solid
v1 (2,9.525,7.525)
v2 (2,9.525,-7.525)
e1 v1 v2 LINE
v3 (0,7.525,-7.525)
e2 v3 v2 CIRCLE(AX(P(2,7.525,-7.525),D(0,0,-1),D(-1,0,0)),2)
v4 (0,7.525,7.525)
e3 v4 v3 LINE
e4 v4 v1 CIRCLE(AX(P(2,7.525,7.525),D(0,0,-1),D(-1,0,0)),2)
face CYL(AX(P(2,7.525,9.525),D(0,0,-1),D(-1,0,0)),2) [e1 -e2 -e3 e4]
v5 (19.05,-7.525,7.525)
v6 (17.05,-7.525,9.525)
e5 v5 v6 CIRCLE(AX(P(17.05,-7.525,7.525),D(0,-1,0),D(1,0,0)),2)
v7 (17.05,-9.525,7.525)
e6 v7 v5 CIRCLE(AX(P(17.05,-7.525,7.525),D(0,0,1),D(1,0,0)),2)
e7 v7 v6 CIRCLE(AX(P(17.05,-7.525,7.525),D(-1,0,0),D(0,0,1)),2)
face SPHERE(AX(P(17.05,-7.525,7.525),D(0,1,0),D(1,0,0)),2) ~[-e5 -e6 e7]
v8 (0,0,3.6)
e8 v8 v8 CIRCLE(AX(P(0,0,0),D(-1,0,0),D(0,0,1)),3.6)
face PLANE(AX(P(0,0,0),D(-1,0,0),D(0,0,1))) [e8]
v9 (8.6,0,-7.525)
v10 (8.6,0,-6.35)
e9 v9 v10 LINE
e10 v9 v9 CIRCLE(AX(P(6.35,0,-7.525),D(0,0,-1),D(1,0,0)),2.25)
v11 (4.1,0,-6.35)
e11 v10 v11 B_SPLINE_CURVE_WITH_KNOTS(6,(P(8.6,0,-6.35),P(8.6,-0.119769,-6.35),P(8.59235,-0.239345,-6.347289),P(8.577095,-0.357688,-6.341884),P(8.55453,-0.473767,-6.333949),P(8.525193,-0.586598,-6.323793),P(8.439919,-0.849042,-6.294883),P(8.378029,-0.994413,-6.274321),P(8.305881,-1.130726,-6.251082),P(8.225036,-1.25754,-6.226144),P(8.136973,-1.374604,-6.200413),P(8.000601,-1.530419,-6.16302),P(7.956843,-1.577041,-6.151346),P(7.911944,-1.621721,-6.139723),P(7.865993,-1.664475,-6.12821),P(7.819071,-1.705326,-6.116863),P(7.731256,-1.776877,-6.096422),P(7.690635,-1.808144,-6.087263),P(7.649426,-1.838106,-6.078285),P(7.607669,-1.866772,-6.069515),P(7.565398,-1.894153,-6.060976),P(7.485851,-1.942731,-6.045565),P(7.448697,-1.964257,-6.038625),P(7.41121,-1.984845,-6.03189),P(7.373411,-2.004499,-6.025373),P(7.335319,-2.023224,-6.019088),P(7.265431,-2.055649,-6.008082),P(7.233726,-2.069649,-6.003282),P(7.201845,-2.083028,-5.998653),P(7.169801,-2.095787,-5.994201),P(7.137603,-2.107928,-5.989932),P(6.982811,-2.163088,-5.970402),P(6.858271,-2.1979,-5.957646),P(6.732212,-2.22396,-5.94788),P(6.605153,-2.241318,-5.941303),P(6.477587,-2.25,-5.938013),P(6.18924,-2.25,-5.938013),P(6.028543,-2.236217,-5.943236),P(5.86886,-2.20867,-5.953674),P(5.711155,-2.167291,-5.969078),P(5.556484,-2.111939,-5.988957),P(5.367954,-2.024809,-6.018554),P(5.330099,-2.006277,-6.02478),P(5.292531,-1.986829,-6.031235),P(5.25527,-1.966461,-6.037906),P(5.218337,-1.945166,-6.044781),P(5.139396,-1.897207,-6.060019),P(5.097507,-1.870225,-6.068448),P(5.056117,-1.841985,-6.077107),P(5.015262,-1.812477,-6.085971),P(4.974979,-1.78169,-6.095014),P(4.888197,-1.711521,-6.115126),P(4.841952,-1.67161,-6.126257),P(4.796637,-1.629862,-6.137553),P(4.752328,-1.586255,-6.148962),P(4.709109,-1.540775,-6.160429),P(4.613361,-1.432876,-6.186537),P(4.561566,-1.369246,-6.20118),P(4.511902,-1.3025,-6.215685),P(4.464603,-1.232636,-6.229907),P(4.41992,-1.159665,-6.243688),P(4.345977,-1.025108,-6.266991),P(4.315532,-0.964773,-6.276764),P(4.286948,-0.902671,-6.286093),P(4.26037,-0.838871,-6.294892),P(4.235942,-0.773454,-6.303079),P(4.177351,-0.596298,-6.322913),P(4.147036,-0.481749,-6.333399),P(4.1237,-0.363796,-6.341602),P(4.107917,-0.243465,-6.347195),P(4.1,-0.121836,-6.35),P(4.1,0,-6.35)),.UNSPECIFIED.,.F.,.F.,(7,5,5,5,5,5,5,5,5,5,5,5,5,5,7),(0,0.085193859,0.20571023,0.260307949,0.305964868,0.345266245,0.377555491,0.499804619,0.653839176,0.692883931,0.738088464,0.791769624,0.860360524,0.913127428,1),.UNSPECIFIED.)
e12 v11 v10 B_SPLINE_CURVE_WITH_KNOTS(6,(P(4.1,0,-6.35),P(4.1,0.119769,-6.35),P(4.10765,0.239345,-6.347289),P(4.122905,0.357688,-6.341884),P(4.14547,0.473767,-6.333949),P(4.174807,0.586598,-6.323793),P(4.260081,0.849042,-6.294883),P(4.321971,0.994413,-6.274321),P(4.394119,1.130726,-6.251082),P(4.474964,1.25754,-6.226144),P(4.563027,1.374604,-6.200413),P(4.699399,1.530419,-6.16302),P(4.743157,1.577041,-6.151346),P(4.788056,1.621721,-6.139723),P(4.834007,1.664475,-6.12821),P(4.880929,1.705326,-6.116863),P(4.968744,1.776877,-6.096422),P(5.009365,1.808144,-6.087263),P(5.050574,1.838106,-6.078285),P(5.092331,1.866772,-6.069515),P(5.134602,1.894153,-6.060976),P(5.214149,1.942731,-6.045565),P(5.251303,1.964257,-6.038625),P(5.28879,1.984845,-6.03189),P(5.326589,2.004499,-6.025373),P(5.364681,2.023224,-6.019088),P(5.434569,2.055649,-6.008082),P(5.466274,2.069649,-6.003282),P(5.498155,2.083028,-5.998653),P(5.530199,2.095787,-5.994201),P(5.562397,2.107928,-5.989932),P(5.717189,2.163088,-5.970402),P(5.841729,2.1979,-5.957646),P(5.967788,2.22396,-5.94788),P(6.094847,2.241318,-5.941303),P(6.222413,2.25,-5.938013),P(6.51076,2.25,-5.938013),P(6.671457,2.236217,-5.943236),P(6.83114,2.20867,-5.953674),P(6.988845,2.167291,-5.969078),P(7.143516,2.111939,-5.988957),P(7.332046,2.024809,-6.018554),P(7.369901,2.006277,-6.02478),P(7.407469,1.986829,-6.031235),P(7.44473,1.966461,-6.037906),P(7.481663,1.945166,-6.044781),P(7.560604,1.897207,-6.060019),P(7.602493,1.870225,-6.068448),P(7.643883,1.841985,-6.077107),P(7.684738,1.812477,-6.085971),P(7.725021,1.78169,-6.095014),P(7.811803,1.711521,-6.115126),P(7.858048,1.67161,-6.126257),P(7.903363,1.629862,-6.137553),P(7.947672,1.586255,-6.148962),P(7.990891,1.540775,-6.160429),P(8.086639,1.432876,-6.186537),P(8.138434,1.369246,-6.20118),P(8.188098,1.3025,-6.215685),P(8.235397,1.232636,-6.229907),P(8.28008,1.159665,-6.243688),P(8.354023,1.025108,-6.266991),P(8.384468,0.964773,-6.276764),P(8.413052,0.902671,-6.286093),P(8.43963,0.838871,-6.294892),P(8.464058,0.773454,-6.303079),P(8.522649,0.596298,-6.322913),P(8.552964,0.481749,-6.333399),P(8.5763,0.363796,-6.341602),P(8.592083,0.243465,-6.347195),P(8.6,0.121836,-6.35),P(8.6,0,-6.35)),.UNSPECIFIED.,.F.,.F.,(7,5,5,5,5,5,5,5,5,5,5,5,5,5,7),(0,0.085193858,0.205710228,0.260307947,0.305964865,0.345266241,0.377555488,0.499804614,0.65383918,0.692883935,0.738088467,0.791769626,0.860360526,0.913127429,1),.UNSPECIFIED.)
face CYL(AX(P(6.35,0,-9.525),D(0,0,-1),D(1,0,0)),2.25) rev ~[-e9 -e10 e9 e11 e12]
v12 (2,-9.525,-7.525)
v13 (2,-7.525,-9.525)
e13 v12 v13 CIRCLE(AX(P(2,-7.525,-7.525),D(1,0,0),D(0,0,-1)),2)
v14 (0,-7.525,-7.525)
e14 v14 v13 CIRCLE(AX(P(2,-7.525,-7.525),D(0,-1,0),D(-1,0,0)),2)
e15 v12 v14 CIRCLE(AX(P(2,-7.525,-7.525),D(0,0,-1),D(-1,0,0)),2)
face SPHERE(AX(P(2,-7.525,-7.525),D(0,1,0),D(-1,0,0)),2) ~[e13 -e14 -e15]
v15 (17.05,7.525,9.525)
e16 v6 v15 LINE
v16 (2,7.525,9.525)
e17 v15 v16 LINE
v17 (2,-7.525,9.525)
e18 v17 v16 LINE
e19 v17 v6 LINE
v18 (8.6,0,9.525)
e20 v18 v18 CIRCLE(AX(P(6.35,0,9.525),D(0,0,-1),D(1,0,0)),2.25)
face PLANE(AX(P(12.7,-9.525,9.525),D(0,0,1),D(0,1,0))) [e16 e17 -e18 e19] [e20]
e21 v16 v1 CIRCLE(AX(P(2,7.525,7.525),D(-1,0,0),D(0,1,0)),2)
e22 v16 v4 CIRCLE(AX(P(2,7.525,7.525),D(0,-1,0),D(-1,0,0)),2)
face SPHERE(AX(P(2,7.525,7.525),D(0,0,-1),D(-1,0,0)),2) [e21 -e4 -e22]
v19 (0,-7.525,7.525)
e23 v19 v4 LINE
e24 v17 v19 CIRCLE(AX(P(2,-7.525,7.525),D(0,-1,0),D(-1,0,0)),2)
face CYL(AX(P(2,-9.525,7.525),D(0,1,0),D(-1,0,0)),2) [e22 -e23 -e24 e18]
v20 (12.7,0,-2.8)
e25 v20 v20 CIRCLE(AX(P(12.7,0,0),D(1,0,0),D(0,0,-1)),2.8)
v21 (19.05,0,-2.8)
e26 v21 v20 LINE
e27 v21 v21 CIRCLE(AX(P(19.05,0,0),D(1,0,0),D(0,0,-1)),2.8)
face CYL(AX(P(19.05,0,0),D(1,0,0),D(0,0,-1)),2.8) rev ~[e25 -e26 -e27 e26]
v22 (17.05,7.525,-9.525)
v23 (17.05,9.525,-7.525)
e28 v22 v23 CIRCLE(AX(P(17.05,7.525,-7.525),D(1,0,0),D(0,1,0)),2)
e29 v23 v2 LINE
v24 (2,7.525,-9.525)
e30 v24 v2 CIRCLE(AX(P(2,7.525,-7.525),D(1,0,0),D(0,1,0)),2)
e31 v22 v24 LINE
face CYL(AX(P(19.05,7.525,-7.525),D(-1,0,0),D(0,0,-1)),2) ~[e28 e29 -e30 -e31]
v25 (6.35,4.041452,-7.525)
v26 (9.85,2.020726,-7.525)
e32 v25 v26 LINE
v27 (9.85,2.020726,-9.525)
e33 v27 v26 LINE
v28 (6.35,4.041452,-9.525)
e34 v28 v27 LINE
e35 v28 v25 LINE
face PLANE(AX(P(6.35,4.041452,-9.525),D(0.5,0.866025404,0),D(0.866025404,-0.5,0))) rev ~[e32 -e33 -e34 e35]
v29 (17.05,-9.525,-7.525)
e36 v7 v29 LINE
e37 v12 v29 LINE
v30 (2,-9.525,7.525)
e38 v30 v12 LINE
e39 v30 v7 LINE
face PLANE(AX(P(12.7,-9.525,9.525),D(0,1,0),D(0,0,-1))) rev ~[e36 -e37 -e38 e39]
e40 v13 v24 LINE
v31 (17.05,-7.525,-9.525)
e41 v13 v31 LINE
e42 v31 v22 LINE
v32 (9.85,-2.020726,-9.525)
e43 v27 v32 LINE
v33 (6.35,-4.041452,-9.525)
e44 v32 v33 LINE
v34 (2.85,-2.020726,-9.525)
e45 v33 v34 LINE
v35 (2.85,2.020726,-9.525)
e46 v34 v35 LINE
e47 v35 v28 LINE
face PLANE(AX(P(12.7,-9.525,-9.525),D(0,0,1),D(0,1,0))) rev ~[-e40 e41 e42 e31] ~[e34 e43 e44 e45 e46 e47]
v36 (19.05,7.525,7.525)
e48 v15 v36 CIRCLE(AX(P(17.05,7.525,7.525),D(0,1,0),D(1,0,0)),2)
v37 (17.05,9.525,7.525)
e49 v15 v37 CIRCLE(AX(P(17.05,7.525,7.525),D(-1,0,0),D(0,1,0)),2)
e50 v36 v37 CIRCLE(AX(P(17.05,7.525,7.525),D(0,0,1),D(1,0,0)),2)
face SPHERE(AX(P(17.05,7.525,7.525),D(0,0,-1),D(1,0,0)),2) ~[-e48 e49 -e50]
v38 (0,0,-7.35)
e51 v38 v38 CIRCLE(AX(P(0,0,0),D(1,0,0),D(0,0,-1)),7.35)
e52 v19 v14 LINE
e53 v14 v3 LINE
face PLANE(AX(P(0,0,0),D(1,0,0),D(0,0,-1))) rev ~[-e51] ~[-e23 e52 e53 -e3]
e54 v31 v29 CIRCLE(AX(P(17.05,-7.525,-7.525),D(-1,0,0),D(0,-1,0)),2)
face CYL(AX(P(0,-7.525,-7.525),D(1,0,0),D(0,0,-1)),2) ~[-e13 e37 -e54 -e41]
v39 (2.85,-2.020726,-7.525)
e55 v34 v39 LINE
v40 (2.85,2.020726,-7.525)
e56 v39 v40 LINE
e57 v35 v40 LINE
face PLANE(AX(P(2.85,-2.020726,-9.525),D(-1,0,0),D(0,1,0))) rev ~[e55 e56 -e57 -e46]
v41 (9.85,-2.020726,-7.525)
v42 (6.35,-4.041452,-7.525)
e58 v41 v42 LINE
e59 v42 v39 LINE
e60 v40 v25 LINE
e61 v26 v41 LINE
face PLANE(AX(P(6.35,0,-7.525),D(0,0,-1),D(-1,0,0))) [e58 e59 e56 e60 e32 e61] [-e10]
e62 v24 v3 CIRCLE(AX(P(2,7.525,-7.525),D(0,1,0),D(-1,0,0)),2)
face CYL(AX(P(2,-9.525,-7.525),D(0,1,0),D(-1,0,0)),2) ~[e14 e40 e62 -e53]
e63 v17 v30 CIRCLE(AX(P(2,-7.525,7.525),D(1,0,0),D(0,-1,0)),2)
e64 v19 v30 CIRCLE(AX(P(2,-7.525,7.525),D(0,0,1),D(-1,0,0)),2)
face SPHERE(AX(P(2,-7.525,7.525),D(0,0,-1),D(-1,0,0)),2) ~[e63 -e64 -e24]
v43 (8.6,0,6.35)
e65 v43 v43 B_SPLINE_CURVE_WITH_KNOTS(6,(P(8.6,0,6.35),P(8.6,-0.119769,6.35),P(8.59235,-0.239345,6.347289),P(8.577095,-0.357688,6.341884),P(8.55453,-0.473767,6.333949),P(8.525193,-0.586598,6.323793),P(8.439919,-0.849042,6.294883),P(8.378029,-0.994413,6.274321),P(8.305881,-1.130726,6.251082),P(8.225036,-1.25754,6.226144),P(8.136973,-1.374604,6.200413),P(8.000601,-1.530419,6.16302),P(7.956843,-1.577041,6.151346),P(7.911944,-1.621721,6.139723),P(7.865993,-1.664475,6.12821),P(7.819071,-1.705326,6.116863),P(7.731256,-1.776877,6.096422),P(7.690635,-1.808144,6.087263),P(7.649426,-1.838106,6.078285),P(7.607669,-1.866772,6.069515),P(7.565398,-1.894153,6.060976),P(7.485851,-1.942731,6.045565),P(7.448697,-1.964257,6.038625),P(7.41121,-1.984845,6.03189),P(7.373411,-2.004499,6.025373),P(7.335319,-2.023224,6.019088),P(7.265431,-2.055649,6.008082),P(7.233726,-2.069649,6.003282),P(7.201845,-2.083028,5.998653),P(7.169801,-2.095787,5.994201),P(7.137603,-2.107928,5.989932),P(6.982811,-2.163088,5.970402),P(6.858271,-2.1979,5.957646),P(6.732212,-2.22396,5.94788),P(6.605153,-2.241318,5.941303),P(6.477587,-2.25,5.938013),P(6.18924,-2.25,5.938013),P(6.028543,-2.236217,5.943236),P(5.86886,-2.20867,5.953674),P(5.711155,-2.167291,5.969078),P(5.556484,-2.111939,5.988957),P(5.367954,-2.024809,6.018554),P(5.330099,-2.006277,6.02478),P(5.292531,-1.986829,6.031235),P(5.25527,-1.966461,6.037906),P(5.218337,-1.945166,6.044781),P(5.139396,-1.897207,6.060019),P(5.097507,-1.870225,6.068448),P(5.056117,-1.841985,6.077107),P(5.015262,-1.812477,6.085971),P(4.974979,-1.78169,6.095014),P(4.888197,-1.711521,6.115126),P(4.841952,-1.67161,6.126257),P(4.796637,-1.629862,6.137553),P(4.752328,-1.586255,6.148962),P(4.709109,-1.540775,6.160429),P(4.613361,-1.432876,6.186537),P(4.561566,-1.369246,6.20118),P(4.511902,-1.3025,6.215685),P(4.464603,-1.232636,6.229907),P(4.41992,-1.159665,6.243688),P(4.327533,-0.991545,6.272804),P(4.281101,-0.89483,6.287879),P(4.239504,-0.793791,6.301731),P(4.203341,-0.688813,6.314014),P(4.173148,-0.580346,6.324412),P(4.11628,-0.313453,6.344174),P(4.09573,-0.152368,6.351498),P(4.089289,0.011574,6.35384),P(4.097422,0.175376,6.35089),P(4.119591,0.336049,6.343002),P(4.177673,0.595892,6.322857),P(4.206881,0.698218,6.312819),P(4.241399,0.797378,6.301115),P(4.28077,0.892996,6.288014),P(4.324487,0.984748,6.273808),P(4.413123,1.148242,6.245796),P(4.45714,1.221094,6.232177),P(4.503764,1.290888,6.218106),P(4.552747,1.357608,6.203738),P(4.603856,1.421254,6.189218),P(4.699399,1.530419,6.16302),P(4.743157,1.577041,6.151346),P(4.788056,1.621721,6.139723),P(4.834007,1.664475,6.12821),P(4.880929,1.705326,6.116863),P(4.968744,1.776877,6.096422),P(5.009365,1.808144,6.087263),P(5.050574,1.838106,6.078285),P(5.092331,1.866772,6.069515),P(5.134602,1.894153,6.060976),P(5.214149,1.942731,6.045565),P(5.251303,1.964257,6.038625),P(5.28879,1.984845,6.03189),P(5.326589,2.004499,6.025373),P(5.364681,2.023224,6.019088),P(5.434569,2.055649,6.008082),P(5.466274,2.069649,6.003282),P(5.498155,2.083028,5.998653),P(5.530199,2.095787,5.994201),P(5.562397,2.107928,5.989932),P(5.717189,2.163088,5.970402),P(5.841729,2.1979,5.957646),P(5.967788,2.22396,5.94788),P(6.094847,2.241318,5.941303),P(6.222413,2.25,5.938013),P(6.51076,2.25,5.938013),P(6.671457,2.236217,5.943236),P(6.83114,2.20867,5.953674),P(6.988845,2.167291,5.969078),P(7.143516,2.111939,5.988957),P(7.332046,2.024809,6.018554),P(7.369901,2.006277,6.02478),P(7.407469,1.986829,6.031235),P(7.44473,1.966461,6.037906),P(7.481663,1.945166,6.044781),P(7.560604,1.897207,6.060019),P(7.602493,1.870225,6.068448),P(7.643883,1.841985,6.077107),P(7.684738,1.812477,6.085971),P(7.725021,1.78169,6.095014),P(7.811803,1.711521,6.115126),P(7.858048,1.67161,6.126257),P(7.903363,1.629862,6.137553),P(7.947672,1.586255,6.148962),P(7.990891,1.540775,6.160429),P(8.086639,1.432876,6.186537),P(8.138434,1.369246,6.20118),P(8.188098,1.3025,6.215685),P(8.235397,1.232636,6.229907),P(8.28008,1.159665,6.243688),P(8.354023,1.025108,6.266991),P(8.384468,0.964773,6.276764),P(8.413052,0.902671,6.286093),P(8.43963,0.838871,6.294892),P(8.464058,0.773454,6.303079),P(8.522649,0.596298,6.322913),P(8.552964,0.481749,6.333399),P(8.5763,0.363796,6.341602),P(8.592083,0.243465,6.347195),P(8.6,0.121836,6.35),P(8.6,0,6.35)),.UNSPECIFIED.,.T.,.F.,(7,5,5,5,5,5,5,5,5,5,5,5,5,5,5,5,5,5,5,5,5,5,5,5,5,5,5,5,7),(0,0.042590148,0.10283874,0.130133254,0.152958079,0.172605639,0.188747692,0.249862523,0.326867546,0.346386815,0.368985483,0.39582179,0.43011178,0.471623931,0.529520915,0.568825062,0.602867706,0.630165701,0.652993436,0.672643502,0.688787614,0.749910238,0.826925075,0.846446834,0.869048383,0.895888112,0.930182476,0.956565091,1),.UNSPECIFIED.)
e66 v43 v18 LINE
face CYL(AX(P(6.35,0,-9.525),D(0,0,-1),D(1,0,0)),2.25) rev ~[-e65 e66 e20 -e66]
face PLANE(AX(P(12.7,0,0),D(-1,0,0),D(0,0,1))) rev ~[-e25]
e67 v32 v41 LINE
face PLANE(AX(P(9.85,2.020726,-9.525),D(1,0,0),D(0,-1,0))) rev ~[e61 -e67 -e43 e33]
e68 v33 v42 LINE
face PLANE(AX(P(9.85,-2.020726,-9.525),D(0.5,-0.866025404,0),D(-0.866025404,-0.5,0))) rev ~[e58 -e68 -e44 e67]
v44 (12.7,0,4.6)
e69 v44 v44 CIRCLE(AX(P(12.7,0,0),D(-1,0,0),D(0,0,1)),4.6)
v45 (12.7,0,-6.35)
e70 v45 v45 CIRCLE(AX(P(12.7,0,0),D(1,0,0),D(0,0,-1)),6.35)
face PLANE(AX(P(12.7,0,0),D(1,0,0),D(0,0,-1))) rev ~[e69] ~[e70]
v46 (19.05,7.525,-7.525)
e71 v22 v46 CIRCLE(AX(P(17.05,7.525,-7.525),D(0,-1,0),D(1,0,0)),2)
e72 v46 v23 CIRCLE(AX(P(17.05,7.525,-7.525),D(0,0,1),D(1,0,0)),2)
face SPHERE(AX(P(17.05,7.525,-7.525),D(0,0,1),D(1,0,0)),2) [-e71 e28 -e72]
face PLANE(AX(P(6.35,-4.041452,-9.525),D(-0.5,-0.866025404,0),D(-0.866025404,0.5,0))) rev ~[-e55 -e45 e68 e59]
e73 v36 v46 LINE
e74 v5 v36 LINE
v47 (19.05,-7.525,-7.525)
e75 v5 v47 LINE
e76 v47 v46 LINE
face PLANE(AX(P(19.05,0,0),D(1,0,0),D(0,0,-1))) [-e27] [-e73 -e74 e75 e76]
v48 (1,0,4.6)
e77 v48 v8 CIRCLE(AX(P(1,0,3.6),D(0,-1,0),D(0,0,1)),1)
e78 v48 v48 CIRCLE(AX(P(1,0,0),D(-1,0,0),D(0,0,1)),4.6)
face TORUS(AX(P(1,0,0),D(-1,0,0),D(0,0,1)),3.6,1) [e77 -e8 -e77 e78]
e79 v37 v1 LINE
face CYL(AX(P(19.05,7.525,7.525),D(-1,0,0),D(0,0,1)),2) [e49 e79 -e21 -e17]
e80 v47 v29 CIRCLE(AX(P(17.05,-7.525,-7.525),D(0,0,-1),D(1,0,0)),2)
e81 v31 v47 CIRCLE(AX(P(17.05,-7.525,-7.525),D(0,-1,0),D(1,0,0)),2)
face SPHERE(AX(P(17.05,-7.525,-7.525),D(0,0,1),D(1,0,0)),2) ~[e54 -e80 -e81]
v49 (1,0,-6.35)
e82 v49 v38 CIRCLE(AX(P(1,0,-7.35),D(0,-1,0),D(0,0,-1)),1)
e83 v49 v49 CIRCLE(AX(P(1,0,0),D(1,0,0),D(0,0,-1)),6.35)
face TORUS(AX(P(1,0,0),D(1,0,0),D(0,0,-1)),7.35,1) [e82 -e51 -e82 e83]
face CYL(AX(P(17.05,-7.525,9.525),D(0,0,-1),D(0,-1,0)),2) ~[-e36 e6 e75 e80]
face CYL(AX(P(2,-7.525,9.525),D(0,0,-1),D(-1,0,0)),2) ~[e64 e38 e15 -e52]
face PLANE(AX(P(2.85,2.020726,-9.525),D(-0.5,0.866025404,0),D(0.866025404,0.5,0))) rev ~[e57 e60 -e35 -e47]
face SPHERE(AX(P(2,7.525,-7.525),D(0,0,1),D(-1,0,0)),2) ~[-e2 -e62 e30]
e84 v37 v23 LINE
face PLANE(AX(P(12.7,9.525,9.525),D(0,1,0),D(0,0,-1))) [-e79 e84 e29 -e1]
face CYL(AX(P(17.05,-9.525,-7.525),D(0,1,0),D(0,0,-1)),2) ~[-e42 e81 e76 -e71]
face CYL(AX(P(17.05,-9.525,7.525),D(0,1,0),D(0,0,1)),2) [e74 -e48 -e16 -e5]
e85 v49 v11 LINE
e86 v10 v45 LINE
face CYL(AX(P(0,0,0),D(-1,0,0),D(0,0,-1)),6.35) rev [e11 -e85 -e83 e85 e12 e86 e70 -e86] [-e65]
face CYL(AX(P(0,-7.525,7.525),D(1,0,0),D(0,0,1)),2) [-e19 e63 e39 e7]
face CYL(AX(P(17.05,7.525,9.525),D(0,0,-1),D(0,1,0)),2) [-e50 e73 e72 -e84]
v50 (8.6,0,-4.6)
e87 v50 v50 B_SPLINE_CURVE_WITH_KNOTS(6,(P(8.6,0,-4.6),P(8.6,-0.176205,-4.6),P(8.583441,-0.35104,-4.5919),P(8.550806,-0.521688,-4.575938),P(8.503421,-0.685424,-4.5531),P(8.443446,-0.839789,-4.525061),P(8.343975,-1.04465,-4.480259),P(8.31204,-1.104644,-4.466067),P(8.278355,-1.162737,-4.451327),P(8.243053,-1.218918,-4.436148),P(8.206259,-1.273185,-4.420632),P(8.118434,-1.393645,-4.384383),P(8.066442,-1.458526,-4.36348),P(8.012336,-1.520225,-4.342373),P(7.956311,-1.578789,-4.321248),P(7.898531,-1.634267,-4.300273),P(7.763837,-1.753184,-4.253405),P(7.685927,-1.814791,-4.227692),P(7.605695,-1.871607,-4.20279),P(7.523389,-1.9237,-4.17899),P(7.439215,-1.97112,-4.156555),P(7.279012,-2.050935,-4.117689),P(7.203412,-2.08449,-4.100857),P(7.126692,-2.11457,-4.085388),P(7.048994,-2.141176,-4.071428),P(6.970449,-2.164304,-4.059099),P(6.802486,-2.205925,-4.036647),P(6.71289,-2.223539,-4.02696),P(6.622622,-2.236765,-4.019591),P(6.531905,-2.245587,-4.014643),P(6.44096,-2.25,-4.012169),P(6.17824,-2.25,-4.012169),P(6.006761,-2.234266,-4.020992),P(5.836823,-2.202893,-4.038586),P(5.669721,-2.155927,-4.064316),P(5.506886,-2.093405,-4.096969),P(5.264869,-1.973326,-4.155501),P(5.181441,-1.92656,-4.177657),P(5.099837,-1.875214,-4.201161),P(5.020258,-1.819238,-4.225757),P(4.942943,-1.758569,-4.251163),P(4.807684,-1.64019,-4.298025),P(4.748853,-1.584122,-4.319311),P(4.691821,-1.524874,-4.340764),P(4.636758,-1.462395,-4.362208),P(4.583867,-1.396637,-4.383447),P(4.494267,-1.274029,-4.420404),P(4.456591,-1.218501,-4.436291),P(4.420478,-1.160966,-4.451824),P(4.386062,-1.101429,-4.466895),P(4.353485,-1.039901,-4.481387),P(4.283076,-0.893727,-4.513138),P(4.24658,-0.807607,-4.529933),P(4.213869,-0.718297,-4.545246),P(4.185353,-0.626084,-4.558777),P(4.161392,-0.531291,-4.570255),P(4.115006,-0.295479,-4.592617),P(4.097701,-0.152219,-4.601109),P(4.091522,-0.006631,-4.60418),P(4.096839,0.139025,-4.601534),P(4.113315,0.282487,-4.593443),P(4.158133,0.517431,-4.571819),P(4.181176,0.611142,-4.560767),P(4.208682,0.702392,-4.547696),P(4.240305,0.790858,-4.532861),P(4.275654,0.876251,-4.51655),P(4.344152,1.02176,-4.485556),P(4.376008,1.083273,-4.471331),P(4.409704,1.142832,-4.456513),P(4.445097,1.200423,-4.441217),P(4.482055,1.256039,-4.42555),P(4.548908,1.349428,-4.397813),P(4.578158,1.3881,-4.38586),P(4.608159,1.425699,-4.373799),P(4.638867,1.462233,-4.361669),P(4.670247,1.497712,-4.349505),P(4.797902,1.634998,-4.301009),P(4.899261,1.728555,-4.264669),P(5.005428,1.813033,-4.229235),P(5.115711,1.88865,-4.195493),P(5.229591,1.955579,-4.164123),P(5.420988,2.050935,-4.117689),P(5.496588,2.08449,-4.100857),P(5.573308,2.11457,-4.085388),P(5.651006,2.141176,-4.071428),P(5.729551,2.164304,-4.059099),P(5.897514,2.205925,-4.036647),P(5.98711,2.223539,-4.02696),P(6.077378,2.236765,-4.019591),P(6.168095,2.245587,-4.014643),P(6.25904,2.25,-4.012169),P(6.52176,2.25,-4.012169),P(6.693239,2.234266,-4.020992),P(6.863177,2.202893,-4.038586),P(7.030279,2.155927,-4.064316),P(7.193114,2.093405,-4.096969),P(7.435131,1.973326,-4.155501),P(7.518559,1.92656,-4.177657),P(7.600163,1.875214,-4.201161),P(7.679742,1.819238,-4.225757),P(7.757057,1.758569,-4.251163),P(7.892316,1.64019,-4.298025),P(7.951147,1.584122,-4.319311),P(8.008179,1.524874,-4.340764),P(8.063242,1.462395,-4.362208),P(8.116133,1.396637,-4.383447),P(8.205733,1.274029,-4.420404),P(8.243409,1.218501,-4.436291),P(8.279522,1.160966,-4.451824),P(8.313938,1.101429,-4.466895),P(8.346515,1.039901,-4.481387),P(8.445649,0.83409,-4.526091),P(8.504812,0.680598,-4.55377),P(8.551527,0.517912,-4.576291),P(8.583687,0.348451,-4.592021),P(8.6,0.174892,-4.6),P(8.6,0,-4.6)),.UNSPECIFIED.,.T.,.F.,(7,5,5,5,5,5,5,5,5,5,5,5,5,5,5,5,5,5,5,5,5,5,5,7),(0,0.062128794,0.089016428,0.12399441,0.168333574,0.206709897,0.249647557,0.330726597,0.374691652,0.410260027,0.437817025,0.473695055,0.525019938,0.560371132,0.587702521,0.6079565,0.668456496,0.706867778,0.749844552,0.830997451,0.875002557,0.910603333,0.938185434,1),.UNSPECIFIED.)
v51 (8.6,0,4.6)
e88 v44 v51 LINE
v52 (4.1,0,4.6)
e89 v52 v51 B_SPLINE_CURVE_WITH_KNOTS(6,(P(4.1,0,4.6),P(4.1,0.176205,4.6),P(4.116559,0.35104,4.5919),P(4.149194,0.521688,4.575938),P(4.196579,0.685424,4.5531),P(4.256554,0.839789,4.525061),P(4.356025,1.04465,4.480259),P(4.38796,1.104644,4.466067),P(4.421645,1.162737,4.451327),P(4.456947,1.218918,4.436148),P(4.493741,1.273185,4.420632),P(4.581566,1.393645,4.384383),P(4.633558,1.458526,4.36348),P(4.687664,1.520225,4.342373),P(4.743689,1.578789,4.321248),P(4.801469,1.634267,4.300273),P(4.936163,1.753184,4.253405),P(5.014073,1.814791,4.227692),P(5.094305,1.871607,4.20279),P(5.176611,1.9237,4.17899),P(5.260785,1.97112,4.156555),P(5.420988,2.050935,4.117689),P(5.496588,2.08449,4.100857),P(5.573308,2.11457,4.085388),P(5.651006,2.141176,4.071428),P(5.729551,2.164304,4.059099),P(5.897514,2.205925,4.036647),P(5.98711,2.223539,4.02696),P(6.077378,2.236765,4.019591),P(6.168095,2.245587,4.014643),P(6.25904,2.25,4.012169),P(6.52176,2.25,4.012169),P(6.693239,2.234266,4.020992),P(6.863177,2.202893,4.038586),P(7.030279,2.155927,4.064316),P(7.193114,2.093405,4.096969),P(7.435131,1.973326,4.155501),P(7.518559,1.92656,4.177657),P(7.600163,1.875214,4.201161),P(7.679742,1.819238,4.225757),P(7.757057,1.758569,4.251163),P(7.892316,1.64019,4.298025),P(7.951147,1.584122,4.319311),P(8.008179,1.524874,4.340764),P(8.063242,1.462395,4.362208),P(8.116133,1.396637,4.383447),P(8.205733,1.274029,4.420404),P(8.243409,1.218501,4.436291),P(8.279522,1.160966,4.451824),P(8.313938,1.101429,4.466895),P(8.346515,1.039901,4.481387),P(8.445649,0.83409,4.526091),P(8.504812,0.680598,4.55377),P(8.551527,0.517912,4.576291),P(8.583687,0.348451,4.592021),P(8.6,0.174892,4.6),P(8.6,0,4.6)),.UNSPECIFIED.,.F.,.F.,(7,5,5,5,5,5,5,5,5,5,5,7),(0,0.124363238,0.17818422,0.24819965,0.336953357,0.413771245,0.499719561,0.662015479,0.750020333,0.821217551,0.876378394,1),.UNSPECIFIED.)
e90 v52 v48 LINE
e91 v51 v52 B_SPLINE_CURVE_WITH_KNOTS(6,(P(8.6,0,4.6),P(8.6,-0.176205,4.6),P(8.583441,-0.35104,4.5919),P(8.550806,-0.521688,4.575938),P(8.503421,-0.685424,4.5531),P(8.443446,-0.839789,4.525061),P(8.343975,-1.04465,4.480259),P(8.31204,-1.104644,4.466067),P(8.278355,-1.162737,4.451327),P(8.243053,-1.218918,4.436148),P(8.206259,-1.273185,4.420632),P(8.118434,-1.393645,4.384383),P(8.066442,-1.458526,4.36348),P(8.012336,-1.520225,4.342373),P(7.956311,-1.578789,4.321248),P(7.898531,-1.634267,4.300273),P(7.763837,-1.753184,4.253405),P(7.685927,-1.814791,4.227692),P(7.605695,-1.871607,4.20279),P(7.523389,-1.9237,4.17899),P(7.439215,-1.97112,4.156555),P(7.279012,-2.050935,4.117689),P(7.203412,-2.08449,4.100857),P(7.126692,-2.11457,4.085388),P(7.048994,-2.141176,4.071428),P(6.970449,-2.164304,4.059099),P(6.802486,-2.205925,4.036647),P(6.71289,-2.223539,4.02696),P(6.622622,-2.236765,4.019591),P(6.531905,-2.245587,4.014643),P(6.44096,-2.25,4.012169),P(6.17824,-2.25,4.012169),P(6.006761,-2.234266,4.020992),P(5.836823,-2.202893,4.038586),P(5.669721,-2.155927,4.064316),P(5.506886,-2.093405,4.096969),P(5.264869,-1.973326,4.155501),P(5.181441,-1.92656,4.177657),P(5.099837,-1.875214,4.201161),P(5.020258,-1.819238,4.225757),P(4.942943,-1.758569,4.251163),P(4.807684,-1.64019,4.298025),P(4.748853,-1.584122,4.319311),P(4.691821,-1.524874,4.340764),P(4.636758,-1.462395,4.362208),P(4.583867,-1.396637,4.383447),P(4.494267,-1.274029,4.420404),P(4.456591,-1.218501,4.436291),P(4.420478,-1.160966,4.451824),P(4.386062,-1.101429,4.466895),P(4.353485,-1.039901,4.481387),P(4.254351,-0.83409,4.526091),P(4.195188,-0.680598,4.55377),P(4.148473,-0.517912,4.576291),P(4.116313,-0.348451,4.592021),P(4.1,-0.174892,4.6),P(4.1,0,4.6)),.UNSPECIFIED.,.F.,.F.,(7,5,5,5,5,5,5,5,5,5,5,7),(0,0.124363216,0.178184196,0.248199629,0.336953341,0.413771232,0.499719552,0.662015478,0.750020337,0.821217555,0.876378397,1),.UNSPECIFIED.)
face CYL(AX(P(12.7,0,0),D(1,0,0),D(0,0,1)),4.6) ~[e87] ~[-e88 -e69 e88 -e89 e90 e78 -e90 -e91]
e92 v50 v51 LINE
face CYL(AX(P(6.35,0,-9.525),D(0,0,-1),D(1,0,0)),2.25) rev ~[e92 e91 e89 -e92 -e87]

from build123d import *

# Parameters (mm, degrees)
SKETCH1_W           = 19.05
SKETCH1_H           = 19.05
SKETCH1_R           = 6.35
BOSS_EXTRUDE1_DEPTH = 12.7
SKETCH3_W           = 19.05
SKETCH3_H           = 19.05
BOSS_EXTRUDE2_DEPTH = 6.35
SKETCH5_R           = 2.8
CUT_EXTRUDE1_DEPTH  = 7
SKETCH6_R           = 4.6
BOSS_EXTRUDE4_DEPTH = 12.7
CUT_EXTRUDE2_DEPTH  = 55
FILLET1_R           = 1
FILLET2_R           = 2
SKETCH9_R           = 2.25
CUT_EXTRUDE3_DEPTH  = 2


with BuildPart() as part:
    # Sketch1 → Boss-Extrude1 (new body)
    with BuildSketch(Plane(origin=(0, 0, 0), x_dir=(0, 0, -1), z_dir=(1, 0, 0))):
        Rectangle(SKETCH1_W, SKETCH1_H)
        Circle(SKETCH1_R, mode=Mode.SUBTRACT)
    extrude(amount=BOSS_EXTRUDE1_DEPTH)

    # Sketch3 → Boss-Extrude2 (add)
    with BuildSketch(Plane(origin=(12.7, 0, 0), x_dir=(0, 0, -1), z_dir=(1, 0, 0))):
        Rectangle(SKETCH3_W, SKETCH3_H)
    extrude(amount=BOSS_EXTRUDE2_DEPTH)

    # Sketch5 → Cut-Extrude1 (cut)
    with BuildSketch(Plane(origin=(19.05, 0, 0), x_dir=(0, 0, -1), z_dir=(1, 0, 0))):
        Circle(SKETCH5_R)
    extrude(amount=-CUT_EXTRUDE1_DEPTH, mode=Mode.SUBTRACT)

    # Sketch6 → Boss-Extrude4 (add)
    with BuildSketch(Plane.ZY.offset(-12.7)):
        Circle(SKETCH6_R)
    extrude(amount=BOSS_EXTRUDE4_DEPTH)

    # Sketch8 → Cut-Extrude2 (cut)
    with BuildSketch(Plane(origin=(0, 0, -9.525), x_dir=(-1, 0, 0), z_dir=(0, 0, -1))):
        with BuildLine():
            ThreePointArc((-4.1, 0), (-6.35, 2.25), (-8.6, 0))
            Line((-8.6, 0), (-4.1, 0))
        make_face()
        with BuildLine():
            Line((-4.1, 0), (-8.6, 0))
            ThreePointArc((-8.6, 0), (-6.35, -2.25), (-4.1, 0))
        make_face()
    extrude(amount=-CUT_EXTRUDE2_DEPTH, mode=Mode.SUBTRACT)

    # Fillet1
    fillet1_edges = [part.edges().sort_by_distance(p)[0] for p in [
        (0, 0, 6.35),
        (0, 0, -4.6),
    ]]
    fillet(fillet1_edges, radius=FILLET1_R)

    # Fillet2
    fillet2_edges = [part.edges().sort_by_distance(p)[0] for p in [
        (19.05, 9.525, 0),
        (19.05, 0, 9.525),
        (19.05, -9.525, 0),
        (19.05, 0, -9.525),
        (0, 9.525, 0),
        (0, 0, -9.525),
        (0, -9.525, 0),
        (0, 0, 9.525),
        (9.525, 9.525, 9.525),
        (9.525, 9.525, -9.525),
        (9.525, -9.525, -9.525),
        (9.525, -9.525, 9.525),
    ]]
    fillet(fillet2_edges, radius=FILLET2_R)

    # Sketch9 → Cut-Extrude3 (cut)
    with BuildSketch(Plane(origin=(0, 0, -9.525), x_dir=(-1, 0, 0), z_dir=(0, 0, -1))):
        Polygon((-9.85, 2.020725942), (-9.85, -2.020725942), (-6.35, -4.041451884), (-2.85, -2.020725942), (-2.85, 2.020725942), (-6.35, 4.041451884), align=None)
        with Locations((-6.35, 0)):
            Circle(SKETCH9_R, mode=Mode.SUBTRACT)
    extrude(amount=-CUT_EXTRUDE3_DEPTH, mode=Mode.SUBTRACT)


solid = part.part
